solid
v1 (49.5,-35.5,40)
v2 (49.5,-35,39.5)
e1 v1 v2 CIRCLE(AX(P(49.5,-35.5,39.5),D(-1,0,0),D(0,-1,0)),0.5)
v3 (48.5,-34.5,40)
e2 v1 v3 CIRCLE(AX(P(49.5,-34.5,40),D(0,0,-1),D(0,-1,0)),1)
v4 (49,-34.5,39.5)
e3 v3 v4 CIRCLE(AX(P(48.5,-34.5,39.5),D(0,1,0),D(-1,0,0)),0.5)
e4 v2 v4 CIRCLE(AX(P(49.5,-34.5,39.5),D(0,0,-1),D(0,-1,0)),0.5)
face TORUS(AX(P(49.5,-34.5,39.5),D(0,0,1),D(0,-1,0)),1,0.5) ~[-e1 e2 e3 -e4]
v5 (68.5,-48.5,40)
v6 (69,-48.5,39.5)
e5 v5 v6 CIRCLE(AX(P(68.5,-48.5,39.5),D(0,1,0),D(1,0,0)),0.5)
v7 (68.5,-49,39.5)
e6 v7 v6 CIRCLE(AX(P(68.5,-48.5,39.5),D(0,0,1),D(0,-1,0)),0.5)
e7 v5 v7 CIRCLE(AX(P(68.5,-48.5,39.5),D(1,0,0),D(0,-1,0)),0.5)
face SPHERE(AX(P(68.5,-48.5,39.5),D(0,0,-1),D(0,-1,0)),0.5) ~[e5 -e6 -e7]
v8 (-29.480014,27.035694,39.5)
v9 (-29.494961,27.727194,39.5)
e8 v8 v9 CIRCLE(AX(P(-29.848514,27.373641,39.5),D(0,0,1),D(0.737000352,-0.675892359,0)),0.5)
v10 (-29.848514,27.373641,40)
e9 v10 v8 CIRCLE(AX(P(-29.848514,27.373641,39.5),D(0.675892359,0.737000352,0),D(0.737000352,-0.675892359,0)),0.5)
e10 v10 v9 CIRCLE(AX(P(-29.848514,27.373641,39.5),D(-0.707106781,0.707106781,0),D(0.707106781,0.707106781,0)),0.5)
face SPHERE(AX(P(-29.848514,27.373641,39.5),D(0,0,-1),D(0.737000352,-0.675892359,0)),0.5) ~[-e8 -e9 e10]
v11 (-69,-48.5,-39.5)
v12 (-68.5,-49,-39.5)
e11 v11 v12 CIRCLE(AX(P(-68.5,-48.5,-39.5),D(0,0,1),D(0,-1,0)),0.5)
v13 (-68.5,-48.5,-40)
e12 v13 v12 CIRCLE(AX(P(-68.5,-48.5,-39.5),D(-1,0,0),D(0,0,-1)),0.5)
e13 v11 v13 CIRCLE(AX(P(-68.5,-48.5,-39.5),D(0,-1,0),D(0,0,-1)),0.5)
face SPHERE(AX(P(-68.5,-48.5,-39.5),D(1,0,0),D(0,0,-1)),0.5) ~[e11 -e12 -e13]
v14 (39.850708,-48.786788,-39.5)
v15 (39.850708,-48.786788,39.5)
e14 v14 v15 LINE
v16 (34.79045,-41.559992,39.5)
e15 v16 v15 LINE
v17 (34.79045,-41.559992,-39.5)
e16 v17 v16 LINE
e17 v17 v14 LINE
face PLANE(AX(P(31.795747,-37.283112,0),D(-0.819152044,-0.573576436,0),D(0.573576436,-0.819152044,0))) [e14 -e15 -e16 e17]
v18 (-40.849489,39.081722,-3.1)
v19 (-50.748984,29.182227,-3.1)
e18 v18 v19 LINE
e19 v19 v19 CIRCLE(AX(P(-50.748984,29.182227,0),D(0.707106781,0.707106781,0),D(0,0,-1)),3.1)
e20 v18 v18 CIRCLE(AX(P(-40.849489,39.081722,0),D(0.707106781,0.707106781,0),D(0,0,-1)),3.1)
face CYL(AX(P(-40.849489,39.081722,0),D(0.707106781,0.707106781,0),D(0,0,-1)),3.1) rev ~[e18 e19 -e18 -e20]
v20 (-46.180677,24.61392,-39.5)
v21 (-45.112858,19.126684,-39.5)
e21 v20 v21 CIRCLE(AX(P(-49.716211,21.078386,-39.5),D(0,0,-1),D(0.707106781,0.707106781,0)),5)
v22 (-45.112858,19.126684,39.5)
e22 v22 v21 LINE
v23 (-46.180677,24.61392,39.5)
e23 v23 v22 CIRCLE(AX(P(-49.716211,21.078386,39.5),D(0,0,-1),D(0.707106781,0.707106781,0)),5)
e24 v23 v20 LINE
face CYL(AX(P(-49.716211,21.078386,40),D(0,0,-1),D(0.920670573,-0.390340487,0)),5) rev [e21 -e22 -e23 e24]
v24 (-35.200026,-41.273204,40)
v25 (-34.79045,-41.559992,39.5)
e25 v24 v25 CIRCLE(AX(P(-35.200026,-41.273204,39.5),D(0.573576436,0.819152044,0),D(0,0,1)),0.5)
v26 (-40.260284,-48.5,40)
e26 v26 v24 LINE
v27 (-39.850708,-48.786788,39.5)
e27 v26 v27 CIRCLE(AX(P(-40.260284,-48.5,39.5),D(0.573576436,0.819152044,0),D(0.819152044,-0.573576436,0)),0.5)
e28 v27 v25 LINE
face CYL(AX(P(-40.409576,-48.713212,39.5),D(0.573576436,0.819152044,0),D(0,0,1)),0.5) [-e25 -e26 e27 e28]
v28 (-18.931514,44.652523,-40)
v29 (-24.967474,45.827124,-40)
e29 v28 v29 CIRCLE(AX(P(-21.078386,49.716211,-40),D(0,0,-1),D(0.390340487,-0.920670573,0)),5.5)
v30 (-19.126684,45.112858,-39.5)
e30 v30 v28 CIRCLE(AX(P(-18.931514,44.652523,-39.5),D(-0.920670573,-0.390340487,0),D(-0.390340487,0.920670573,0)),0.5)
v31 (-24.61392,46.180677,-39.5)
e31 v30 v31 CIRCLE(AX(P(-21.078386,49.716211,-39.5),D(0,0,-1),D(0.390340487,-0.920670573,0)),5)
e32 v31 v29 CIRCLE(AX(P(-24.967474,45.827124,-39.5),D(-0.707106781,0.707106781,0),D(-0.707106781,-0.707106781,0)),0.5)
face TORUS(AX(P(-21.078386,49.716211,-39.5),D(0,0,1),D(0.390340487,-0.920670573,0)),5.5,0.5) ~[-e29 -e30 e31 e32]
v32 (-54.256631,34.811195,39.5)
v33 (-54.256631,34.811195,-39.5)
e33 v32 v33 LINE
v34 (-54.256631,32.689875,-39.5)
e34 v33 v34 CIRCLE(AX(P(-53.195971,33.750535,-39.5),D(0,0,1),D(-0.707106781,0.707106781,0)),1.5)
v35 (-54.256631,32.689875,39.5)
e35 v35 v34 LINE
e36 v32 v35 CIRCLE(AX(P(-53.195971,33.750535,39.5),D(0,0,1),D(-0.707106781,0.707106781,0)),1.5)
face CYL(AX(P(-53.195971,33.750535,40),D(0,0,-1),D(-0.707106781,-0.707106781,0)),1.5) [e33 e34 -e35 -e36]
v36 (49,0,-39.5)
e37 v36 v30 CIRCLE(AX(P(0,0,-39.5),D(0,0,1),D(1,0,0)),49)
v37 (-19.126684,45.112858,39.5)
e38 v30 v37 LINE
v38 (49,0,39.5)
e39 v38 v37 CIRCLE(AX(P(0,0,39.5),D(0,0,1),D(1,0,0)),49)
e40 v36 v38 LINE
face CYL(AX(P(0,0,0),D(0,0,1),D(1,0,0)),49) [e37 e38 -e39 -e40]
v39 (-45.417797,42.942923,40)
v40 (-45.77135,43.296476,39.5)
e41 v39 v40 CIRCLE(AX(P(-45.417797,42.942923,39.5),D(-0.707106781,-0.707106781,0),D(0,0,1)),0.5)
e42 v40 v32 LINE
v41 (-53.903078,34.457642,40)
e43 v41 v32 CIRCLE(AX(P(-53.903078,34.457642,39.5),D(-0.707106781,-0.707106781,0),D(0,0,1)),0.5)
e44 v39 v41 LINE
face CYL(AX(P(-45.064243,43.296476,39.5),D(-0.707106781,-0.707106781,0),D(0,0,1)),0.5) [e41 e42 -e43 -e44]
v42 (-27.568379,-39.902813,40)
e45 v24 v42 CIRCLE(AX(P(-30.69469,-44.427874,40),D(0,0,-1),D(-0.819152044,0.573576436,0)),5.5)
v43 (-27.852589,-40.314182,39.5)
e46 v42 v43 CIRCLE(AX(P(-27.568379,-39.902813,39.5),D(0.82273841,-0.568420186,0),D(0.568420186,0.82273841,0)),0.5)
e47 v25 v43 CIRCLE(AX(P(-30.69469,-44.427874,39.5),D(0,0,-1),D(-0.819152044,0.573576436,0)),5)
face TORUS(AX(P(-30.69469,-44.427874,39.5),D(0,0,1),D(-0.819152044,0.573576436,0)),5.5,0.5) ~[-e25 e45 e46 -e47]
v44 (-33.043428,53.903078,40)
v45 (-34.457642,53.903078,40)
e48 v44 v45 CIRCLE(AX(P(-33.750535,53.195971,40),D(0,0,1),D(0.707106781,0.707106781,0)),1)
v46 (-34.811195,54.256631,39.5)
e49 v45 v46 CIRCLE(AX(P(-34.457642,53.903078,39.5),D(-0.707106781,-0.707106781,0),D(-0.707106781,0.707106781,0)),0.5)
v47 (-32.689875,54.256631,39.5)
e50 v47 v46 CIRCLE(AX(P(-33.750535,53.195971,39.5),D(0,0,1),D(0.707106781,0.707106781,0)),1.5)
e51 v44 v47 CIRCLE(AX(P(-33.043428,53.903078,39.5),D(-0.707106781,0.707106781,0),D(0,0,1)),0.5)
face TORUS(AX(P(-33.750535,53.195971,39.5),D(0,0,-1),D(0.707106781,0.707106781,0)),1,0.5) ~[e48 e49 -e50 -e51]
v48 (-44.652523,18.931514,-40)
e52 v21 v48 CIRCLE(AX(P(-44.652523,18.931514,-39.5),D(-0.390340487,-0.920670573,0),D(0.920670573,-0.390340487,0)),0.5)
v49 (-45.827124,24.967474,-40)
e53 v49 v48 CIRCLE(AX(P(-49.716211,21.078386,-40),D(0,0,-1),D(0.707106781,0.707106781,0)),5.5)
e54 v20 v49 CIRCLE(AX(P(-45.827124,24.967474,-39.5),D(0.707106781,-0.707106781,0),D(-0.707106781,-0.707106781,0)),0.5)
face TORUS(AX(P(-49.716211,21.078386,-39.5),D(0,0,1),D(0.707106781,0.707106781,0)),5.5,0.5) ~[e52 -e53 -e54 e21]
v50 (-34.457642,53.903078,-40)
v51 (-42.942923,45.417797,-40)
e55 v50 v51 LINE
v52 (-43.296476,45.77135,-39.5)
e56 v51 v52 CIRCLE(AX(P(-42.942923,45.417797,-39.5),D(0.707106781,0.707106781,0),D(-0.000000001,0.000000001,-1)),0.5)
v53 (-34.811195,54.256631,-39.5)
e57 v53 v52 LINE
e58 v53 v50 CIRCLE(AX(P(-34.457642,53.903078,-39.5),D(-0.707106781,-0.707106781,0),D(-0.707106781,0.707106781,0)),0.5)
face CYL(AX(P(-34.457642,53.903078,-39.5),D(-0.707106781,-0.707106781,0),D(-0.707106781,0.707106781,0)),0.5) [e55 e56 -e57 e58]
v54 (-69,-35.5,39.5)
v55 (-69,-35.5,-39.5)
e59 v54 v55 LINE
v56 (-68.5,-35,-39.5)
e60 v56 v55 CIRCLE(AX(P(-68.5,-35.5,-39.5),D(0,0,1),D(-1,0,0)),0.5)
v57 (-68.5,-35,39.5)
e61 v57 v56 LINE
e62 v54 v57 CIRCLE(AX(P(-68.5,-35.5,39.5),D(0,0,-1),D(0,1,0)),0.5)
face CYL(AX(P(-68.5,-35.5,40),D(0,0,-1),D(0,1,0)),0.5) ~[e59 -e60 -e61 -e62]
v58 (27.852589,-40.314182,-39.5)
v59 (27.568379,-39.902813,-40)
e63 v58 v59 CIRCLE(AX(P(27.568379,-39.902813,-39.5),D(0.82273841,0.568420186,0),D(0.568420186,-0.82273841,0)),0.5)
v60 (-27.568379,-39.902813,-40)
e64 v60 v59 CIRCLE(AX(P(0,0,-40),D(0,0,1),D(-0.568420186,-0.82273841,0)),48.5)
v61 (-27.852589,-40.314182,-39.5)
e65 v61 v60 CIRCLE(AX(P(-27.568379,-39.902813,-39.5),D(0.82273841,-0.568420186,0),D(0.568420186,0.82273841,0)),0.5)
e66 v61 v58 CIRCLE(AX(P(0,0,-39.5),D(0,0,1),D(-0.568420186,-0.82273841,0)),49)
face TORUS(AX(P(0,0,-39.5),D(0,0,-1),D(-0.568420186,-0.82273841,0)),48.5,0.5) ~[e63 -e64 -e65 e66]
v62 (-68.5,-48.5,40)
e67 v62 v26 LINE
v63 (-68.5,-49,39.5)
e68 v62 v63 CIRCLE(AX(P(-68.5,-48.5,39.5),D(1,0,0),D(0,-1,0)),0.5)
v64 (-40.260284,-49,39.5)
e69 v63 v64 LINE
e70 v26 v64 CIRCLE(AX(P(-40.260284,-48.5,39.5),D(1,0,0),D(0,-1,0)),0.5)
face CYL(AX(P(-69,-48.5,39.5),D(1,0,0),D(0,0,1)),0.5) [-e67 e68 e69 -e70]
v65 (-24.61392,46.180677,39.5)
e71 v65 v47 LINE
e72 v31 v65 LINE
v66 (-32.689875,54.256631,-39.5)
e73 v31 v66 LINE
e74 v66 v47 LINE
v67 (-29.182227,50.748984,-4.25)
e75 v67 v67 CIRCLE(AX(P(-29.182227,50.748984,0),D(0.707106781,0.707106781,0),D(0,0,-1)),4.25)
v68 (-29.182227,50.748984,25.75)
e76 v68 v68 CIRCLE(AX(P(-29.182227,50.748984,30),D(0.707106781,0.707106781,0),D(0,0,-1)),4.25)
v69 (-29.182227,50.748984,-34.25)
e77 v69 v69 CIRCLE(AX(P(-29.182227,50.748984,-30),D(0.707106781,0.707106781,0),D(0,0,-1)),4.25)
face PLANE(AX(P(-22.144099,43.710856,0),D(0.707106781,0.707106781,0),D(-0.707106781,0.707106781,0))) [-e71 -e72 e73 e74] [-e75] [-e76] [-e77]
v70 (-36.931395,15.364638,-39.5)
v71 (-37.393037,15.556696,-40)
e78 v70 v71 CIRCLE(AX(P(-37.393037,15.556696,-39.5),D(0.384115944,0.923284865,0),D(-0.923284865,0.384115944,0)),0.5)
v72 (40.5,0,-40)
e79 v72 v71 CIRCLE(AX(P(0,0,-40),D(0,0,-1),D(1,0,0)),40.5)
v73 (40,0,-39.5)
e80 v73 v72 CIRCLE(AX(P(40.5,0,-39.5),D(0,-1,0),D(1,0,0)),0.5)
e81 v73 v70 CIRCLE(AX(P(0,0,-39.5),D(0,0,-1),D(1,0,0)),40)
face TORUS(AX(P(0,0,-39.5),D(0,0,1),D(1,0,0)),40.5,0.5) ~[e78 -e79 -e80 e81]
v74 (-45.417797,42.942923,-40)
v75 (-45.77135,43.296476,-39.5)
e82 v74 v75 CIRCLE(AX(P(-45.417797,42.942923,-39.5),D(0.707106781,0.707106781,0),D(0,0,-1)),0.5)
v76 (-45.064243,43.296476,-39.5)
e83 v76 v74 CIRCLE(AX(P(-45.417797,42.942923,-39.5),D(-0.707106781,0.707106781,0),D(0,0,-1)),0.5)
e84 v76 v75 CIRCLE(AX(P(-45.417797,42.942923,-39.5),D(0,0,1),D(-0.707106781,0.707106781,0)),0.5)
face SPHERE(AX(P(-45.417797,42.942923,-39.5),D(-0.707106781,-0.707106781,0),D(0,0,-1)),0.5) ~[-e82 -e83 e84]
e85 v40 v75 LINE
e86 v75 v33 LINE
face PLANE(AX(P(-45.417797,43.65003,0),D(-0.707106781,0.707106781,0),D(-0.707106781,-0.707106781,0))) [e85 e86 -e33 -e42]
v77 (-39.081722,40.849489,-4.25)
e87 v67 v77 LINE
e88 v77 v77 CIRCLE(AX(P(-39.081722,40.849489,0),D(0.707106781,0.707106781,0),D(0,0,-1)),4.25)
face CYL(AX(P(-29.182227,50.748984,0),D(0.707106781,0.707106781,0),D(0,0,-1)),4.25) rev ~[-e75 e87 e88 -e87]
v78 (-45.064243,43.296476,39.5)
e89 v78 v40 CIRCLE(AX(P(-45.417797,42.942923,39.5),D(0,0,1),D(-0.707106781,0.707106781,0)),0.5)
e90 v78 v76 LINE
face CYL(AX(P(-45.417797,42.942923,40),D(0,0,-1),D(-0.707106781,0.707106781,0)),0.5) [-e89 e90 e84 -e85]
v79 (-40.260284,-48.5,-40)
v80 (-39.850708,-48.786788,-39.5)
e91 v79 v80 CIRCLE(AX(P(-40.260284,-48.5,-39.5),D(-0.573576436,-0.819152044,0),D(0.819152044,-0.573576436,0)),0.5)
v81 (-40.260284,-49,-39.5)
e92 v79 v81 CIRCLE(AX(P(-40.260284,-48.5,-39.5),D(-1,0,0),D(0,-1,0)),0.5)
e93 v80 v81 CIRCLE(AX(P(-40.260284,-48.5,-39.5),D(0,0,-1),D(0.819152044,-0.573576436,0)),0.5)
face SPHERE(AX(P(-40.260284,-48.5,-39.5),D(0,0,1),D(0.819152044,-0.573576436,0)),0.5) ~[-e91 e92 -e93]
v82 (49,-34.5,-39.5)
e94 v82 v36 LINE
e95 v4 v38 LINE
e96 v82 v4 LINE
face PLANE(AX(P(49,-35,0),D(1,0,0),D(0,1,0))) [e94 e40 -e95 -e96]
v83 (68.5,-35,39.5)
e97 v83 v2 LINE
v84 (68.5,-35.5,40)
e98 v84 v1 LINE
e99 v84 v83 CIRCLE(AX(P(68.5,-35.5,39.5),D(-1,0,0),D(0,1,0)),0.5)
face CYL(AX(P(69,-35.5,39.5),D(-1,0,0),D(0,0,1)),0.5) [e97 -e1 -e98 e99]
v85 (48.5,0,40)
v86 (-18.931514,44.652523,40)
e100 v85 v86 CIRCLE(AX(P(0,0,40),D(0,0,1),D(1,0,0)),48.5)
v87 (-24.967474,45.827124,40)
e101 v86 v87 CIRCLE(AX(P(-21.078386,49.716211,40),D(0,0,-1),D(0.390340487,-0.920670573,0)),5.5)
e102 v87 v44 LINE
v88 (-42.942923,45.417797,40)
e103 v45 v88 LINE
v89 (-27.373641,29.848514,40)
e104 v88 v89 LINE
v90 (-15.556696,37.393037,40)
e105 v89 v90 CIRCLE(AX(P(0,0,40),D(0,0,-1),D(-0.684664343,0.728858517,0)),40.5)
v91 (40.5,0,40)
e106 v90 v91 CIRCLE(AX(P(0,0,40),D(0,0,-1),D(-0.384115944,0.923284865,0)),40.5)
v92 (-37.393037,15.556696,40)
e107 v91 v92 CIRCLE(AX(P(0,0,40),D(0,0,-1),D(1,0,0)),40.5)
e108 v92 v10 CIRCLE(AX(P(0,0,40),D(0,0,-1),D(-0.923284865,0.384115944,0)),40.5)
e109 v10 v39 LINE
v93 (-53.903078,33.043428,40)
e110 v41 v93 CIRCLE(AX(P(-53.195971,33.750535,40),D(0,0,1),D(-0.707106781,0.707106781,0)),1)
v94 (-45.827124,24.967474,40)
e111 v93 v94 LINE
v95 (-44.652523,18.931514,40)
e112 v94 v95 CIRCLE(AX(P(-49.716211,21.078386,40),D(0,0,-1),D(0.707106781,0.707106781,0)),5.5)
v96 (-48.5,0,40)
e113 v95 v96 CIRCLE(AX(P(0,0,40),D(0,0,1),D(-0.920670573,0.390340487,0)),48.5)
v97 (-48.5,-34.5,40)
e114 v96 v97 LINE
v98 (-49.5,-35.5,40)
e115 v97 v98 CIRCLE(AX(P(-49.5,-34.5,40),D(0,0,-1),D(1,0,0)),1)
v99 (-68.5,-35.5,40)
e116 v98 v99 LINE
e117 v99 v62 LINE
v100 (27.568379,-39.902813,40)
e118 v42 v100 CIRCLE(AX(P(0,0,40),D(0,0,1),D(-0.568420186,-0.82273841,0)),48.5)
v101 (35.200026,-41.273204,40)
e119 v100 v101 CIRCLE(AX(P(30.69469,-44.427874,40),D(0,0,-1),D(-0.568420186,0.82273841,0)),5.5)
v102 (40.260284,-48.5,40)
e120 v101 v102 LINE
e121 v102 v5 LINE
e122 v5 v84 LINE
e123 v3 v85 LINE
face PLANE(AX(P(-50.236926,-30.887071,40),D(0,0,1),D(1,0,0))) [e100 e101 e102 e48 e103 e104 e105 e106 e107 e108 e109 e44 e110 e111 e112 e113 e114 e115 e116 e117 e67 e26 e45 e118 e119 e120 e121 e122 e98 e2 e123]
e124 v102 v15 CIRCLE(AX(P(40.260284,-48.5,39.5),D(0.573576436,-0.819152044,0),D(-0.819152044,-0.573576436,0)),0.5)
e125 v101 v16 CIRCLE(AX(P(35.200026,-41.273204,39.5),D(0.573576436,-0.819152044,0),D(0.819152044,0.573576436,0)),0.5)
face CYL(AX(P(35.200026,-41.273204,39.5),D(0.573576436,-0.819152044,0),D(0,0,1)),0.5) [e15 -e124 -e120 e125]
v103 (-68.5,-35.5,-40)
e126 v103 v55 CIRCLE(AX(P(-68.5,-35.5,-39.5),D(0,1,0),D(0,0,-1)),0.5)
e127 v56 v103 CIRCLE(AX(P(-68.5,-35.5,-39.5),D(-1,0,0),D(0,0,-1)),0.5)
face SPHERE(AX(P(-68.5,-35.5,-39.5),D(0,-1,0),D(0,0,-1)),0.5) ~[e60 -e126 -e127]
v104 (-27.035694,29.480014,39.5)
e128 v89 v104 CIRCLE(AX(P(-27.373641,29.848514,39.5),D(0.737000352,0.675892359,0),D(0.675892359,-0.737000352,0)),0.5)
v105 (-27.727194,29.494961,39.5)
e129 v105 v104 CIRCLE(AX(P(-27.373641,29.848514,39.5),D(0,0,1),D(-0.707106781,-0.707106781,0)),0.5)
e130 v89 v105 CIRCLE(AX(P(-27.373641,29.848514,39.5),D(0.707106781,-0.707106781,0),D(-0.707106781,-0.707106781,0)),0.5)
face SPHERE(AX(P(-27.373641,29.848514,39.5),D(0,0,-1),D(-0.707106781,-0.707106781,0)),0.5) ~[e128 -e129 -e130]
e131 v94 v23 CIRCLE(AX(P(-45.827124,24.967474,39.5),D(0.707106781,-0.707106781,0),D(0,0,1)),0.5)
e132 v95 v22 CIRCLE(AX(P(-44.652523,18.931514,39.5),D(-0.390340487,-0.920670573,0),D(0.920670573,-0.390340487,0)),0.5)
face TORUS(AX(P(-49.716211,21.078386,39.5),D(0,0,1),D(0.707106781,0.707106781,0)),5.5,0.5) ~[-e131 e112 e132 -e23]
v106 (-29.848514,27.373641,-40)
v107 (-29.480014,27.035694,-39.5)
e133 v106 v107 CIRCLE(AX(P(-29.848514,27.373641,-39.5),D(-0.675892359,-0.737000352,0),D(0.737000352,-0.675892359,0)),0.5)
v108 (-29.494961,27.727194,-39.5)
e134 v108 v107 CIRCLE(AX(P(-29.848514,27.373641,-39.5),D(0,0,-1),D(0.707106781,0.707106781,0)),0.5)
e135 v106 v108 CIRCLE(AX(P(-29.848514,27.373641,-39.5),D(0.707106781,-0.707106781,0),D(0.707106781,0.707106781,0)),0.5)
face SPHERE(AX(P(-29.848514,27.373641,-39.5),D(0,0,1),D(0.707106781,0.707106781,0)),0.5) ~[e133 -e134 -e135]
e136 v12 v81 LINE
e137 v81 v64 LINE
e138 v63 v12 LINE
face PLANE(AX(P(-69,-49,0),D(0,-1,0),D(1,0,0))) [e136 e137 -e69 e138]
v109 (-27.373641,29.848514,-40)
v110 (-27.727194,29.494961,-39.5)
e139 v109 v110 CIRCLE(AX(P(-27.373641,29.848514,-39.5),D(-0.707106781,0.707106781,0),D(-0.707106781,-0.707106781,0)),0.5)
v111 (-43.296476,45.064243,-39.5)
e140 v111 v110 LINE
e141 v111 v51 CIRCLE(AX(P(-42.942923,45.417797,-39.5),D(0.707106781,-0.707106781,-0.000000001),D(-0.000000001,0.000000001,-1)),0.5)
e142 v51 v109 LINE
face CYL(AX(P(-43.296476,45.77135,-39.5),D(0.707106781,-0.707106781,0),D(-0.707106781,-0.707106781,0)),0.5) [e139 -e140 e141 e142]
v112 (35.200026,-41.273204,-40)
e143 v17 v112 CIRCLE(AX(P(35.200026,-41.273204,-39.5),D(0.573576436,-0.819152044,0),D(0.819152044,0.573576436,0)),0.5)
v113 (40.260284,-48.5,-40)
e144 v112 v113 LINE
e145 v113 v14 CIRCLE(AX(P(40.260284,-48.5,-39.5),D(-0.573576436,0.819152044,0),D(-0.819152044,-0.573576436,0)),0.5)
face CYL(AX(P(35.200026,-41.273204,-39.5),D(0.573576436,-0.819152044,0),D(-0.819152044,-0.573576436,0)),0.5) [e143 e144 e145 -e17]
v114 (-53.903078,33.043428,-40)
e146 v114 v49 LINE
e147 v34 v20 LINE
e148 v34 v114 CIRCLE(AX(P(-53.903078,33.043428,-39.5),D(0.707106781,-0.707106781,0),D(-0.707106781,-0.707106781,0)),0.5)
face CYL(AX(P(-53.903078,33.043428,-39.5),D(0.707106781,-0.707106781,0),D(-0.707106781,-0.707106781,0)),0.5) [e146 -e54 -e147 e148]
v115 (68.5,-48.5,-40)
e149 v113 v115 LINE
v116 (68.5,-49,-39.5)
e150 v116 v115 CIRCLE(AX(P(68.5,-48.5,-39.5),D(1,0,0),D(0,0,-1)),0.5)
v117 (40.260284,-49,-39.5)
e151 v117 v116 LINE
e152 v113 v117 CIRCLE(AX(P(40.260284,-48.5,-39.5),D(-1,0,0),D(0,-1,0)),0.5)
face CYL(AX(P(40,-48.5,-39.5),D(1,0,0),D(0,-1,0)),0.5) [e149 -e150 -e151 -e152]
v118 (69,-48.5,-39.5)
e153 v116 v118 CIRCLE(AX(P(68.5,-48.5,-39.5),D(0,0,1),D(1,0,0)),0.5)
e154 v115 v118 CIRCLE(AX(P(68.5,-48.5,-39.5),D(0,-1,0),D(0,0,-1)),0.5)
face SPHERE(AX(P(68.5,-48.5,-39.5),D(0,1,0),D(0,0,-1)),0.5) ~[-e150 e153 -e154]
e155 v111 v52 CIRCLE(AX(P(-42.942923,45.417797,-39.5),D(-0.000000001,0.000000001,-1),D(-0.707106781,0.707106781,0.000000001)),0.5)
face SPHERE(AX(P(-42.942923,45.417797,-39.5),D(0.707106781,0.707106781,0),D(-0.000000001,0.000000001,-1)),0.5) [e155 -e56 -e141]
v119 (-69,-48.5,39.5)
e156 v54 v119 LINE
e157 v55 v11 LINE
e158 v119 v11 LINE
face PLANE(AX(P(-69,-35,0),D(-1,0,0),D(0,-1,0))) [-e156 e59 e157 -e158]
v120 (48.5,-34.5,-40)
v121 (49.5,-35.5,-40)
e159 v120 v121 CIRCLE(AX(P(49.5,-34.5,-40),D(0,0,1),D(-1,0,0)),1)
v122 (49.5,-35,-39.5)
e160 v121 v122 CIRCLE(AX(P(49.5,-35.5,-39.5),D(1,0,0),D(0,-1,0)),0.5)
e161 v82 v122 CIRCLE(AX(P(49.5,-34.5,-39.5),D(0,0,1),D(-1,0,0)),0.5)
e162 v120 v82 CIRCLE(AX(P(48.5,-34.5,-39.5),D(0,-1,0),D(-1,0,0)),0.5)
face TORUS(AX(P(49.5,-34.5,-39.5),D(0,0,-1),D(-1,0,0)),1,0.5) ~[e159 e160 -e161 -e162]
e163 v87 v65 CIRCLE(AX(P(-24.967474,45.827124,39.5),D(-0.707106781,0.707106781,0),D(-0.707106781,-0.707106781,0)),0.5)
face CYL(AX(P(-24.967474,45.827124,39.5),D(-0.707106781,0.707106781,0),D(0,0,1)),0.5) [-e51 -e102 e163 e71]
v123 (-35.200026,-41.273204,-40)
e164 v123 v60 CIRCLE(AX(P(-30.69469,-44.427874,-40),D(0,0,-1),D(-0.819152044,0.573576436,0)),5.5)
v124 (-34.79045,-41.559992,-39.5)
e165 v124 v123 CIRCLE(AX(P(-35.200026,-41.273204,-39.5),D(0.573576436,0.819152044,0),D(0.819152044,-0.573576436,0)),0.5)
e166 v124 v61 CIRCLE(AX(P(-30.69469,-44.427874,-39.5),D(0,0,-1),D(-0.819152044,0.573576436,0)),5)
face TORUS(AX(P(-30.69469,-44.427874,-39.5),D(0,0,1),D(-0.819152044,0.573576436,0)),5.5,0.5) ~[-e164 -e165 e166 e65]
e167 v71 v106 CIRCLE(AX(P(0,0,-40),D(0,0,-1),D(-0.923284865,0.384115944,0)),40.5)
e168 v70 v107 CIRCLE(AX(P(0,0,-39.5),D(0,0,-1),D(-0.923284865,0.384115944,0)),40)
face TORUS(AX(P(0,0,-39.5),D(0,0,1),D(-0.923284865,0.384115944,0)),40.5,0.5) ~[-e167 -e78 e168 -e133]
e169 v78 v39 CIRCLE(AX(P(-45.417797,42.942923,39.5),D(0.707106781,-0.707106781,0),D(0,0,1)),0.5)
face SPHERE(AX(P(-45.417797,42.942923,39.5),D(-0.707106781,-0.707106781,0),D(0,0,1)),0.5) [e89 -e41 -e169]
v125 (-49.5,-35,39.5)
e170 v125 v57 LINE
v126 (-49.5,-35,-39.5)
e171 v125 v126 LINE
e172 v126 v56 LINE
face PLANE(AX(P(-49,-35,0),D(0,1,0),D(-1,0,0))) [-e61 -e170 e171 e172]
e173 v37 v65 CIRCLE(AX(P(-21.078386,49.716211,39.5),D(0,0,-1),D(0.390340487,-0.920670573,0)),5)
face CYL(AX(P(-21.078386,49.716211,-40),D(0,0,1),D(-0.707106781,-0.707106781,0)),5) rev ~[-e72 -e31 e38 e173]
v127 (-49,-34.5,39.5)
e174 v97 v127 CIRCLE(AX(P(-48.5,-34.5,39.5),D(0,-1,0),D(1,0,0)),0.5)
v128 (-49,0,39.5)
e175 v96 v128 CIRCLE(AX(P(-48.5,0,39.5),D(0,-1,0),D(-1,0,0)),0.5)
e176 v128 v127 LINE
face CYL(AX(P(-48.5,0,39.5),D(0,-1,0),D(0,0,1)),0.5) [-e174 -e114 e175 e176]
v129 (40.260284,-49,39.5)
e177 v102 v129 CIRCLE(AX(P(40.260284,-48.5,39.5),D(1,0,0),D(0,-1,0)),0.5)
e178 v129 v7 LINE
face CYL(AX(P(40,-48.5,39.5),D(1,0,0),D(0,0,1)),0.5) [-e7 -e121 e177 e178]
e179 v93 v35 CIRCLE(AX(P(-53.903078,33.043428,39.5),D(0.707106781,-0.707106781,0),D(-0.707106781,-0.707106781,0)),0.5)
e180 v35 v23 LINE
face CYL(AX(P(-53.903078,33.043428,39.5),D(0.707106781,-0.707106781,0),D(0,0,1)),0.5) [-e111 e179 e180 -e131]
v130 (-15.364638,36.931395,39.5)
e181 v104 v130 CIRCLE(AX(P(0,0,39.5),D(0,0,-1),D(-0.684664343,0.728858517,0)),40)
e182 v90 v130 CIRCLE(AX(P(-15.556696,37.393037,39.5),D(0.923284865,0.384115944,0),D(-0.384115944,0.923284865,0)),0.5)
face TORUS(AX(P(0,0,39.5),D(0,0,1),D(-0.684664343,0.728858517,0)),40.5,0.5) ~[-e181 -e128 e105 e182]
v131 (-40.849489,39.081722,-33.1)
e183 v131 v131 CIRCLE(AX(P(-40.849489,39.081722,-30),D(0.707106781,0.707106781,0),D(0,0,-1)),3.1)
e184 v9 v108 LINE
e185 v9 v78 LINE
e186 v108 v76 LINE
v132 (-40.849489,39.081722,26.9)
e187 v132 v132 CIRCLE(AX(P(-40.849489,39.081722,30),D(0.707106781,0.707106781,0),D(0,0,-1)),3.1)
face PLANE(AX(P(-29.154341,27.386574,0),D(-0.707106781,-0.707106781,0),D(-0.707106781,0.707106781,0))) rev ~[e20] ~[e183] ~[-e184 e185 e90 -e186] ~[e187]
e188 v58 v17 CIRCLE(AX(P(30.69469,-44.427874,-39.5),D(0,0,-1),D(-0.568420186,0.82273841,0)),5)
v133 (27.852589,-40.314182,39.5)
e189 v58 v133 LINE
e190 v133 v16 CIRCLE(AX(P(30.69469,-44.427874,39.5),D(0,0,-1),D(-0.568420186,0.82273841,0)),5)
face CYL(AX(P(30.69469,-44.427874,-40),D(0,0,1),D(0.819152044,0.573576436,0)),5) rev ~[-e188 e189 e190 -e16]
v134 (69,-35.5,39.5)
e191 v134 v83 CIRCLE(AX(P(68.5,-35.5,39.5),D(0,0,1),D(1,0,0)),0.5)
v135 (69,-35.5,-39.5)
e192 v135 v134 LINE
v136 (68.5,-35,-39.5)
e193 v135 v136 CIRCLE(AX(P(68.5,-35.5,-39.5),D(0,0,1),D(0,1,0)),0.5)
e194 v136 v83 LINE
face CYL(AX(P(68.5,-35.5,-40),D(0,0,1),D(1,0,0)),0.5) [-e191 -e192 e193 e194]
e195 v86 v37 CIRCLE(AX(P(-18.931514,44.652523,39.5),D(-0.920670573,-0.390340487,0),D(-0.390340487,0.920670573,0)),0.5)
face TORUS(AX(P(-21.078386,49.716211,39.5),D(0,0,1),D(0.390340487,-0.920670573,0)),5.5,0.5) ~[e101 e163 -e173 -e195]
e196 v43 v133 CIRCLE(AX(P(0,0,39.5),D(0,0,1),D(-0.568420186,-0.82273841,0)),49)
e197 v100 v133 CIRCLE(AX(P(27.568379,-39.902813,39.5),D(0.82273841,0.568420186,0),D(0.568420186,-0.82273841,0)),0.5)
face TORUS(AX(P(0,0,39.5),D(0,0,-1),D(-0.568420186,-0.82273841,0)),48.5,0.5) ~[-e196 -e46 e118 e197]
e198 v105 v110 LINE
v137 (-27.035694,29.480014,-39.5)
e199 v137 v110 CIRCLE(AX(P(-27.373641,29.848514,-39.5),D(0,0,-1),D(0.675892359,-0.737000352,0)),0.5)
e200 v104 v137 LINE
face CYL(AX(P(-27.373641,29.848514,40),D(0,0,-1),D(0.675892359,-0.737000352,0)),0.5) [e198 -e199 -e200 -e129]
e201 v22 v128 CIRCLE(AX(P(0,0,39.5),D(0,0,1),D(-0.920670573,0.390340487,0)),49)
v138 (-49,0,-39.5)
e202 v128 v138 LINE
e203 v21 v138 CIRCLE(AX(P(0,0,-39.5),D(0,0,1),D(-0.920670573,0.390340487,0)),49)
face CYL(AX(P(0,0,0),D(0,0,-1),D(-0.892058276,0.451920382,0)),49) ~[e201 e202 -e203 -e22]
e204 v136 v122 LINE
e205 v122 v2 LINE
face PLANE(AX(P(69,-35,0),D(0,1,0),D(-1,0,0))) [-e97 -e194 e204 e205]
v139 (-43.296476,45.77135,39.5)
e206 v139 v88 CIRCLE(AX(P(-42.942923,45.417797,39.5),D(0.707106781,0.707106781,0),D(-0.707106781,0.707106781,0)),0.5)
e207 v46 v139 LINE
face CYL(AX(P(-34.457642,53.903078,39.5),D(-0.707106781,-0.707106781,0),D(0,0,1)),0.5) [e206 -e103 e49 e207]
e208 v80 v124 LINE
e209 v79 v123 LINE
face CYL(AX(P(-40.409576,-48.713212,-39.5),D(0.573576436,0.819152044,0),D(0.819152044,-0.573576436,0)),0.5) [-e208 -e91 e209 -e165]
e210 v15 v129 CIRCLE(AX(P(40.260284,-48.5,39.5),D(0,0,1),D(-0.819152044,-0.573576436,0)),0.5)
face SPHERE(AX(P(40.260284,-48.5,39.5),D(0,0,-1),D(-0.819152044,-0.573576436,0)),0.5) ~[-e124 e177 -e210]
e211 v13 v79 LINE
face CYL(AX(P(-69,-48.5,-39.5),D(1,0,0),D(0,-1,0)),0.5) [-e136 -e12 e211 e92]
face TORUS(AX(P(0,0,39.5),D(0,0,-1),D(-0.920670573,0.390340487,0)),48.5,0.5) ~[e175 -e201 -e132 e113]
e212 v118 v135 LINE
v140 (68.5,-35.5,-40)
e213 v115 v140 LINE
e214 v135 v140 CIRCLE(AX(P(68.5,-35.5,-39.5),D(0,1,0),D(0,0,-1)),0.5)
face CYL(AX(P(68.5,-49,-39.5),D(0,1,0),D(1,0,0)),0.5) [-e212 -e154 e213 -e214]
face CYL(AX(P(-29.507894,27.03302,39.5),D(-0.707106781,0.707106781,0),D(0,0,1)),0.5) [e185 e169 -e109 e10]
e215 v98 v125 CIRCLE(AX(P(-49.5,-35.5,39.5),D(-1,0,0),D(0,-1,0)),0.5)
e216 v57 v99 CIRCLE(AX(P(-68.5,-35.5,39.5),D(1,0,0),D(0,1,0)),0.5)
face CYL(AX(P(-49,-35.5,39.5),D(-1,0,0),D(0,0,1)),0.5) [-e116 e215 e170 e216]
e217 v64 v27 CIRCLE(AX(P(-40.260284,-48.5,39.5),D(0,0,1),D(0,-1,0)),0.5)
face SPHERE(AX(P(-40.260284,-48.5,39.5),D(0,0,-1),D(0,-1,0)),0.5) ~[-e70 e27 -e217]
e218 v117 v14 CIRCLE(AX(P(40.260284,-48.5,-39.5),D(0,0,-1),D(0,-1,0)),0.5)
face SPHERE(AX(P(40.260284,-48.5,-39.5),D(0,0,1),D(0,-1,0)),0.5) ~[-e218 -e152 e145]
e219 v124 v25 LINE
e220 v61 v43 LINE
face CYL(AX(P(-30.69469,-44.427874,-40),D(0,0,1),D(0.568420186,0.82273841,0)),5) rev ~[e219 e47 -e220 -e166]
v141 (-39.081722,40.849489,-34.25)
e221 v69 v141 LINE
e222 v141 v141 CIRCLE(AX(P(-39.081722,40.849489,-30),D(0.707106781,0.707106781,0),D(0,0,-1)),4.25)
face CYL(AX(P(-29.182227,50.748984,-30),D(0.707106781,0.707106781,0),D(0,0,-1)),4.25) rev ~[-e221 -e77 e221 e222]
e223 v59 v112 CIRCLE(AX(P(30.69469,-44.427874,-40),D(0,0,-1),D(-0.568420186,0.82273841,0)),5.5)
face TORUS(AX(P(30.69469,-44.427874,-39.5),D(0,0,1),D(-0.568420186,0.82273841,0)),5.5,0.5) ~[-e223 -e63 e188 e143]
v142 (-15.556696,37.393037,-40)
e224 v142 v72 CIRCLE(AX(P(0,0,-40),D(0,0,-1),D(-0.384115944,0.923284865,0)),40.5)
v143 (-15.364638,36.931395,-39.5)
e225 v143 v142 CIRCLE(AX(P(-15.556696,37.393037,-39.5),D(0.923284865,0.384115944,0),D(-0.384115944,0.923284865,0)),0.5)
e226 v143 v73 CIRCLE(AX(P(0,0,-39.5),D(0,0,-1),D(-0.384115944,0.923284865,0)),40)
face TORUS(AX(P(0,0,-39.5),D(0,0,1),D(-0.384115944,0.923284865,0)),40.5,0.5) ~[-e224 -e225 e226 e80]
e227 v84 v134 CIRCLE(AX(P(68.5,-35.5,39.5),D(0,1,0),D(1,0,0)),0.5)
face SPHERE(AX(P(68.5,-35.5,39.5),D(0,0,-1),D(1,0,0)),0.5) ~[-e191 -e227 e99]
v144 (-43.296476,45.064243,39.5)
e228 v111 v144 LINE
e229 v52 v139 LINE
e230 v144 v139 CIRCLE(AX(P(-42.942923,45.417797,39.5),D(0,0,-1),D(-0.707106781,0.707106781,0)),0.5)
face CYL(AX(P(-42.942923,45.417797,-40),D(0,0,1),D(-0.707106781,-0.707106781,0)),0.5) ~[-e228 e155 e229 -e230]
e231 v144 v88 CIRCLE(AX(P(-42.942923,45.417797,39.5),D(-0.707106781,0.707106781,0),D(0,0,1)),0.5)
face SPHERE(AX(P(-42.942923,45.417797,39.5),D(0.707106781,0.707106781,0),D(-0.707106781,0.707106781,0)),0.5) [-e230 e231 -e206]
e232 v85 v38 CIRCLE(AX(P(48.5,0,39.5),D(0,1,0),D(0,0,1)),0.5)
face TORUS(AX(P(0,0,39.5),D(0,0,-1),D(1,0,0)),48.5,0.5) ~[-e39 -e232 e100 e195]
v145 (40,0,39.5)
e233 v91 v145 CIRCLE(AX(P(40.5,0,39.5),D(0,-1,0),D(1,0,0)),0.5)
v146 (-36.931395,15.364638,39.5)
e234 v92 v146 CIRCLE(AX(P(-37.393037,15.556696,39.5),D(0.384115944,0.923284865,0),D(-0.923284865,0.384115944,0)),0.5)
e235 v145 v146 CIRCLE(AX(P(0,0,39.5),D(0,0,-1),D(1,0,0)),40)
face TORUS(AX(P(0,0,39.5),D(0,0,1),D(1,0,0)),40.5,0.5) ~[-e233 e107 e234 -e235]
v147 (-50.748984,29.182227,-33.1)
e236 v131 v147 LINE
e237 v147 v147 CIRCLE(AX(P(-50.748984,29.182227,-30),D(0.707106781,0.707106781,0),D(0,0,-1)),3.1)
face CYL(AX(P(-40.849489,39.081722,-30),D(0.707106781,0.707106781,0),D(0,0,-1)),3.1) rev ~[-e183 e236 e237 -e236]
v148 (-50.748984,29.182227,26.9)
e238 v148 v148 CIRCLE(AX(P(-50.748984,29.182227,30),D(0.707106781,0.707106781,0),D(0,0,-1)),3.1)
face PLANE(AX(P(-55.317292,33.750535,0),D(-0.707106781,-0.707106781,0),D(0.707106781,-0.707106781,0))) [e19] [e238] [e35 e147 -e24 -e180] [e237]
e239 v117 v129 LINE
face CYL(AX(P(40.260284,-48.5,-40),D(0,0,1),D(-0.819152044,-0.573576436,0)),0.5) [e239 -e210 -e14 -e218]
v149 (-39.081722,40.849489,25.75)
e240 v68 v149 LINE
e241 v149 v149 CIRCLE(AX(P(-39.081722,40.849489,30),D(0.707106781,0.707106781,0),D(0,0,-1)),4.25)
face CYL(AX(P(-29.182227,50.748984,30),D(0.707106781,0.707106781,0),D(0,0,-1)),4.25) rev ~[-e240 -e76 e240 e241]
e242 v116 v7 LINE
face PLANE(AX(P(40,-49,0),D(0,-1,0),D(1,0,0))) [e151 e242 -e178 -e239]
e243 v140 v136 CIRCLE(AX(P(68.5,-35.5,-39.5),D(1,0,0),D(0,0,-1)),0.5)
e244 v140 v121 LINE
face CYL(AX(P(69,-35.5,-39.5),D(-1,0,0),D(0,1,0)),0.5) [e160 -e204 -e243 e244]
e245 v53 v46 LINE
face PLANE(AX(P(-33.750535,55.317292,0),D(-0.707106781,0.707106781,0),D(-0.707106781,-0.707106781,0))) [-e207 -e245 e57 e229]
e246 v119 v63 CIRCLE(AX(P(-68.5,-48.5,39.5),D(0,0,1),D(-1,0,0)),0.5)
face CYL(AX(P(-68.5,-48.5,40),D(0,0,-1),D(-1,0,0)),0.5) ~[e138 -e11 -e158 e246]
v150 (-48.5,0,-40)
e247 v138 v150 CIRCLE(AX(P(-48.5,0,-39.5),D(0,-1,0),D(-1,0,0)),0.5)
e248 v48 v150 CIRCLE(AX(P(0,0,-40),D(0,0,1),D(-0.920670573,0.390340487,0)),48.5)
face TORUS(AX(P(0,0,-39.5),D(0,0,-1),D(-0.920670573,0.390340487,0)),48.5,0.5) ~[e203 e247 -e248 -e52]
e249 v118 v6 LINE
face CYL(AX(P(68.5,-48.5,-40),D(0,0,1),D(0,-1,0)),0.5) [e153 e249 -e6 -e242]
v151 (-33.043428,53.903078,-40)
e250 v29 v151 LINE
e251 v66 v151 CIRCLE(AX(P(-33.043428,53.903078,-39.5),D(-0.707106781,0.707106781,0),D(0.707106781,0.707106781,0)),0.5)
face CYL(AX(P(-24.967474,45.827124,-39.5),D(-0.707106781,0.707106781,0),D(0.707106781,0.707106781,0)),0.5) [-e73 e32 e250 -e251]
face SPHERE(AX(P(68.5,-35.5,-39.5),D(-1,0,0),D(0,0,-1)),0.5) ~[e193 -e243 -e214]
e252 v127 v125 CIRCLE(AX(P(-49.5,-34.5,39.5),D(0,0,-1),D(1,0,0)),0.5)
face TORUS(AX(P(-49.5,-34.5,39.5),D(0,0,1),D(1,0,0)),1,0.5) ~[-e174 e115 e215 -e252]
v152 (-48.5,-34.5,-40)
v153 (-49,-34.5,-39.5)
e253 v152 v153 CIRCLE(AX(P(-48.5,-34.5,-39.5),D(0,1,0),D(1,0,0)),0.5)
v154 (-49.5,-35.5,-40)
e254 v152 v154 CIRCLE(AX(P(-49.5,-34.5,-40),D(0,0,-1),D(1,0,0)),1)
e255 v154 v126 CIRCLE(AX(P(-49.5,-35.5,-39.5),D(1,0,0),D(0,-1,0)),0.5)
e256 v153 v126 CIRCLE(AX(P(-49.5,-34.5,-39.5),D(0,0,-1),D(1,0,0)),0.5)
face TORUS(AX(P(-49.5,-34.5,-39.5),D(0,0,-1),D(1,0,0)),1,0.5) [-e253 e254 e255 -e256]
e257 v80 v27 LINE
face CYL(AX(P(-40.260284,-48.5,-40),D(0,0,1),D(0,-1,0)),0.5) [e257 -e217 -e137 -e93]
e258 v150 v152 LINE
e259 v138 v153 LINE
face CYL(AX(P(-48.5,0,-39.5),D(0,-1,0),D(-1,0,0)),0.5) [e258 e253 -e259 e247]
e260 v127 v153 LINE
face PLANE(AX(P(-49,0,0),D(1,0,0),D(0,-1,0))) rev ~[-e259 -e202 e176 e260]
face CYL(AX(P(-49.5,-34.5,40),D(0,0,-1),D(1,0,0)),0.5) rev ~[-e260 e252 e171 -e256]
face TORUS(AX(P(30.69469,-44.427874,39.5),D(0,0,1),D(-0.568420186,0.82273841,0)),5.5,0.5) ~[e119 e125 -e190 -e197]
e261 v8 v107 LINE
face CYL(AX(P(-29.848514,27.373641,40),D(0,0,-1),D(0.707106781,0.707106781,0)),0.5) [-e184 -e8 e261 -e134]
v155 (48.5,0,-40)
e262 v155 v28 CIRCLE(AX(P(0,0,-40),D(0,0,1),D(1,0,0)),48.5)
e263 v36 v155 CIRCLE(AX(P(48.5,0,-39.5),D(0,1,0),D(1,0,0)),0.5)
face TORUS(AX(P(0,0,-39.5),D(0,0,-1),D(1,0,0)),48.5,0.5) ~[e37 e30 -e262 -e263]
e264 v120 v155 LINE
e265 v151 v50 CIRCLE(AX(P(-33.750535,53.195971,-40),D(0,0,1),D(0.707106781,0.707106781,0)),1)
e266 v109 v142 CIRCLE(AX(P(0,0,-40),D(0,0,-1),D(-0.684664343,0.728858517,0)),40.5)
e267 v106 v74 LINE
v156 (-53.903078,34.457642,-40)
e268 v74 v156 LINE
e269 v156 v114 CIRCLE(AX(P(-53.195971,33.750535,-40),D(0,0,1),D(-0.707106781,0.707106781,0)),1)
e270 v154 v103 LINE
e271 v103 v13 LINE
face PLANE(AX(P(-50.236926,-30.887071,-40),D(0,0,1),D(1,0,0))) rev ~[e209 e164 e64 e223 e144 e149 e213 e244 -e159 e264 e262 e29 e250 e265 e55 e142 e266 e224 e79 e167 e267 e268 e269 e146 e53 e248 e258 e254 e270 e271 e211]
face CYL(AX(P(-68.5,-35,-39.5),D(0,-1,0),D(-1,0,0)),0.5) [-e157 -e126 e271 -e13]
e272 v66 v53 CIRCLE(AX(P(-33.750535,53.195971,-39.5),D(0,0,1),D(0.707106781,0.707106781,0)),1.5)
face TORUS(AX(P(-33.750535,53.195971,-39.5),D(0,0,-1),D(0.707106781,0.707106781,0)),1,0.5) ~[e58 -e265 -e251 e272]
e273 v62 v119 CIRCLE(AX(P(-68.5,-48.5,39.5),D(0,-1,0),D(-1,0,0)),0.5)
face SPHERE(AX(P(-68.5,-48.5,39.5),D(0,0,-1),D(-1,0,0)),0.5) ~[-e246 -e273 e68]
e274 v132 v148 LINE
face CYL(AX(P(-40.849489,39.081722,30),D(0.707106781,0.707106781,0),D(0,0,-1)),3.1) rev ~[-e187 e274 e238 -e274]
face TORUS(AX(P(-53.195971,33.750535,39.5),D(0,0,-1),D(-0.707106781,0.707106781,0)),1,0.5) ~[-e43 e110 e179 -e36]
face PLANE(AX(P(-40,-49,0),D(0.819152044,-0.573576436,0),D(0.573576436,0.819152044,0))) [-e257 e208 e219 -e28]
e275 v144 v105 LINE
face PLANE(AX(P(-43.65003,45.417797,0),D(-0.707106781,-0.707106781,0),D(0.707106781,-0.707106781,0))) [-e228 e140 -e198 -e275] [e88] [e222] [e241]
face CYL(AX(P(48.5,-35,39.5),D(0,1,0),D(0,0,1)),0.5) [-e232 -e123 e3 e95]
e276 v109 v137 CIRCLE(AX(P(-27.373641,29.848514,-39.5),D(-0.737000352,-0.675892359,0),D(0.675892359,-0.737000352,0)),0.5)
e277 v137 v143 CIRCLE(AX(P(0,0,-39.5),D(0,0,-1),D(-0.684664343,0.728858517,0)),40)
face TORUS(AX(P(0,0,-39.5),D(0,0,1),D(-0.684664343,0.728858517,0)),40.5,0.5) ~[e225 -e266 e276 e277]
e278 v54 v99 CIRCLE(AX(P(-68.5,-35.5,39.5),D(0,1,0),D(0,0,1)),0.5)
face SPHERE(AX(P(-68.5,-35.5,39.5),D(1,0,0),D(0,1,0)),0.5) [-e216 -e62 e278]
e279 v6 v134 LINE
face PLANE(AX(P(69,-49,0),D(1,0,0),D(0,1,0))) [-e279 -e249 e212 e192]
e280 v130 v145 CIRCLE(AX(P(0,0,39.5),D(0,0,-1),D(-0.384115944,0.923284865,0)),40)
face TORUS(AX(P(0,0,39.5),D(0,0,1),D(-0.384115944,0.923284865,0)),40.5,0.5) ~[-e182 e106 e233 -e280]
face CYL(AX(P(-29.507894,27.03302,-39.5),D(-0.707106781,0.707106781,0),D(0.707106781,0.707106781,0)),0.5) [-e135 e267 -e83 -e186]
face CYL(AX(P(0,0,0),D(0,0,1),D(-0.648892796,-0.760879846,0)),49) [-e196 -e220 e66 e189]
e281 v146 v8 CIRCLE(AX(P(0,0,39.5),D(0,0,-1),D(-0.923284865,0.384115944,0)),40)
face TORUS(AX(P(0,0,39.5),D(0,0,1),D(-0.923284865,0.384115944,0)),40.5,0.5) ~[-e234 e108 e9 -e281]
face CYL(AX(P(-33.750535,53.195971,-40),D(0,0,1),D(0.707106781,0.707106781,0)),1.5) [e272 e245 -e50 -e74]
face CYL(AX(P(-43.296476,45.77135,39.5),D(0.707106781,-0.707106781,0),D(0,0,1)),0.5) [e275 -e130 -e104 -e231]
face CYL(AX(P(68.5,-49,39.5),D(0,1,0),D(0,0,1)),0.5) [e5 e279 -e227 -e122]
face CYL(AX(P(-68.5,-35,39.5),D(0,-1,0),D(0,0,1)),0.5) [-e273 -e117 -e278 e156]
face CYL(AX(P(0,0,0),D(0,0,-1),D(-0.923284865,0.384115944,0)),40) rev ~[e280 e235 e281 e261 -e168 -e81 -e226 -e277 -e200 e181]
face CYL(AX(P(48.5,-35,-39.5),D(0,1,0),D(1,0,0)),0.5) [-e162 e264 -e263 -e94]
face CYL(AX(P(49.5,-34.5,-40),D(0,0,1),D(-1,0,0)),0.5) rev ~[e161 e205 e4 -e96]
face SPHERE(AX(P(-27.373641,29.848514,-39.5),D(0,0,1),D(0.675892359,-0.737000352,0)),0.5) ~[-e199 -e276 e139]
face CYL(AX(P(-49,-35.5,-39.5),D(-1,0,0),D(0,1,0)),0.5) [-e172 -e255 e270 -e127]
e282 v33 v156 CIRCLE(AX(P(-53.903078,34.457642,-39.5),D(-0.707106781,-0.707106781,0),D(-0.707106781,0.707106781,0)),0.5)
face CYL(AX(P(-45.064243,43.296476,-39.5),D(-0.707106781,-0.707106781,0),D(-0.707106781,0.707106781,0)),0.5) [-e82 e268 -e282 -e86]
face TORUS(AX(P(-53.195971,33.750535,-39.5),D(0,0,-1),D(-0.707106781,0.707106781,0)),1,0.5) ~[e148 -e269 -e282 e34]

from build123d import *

# Parameters (mm, degrees)
EXTRUDE_1_DEPTH     = 40
FILLET_1_R          = 5
SKETCH_2_R          = 4.25
CUT_EXTRUDE_1_DEPTH = 16.5
SKETCH_3_R          = 3.1
CUT_EXTRUDE_2_DEPTH = 80
FILLET_2_R          = 1.5
FILLET_3_R          = 0.5


with BuildPart() as part:
    # Эскиз1 → Бобышка-Вытянуть1 (new body, symmetric)
    with BuildSketch(Plane.XY):
        with BuildLine():
            Line((-69, -49), (-40, -49))
            Line((-40, -49), (-31.795747001, -37.283112433))
            ThreePointArc((-31.795747001, -37.283112433), (-44.491525053, -20.530567417), (-49, 0))
            Line((-49, 0), (-49, -35))
            Line((-49, -35), (-69, -35))
            Line((-69, -35), (-69, -49))
        make_face()
        with BuildLine():
            ThreePointArc((-31.795747001, -37.283112433), (-16.942955681, -45.977562493), (-1.13e-07, -49))
            ThreePointArc((-1.13e-07, -49), (16.942955575, -45.977562532), (31.795747001, -37.283112433))
            ThreePointArc((31.795747001, -37.283112433), (44.491525053, -20.530567417), (49, 0))
            ThreePointArc((49, 0), (25.650917751, 41.749615789), (-22.144098715, 43.710855541))
            Line((-22.144098715, 43.710855541), (-15.364637764, 36.93139459))
            ThreePointArc((-15.364637764, 36.93139459), (22.197009815, 33.276008704), (40, 0))
            ThreePointArc((40, 0), (-7.834035243, -39.225347568), (-36.93139459, 15.364637764))
            Line((-36.93139459, 15.364637764), (-43.710855541, 22.144098715))
            ThreePointArc((-43.710855541, 22.144098715), (-47.659374322, 11.38349855), (-49, 0))
            ThreePointArc((-49, 0), (-44.491525053, -20.530567417), (-31.795747001, -37.283112433))
        make_face()
        with BuildLine():
            Line((40, -49), (69, -49))
            Line((69, -49), (69, -35))
            Line((69, -35), (49, -35))
            Line((49, -35), (49, 0))
            ThreePointArc((49, 0), (44.491525053, -20.530567417), (31.795747001, -37.283112433))
            Line((31.795747001, -37.283112433), (40, -49))
        make_face()
        with BuildLine():
            Line((-55.317291575, 33.750534749), (-43.710855541, 22.144098715))
            ThreePointArc((-43.710855541, 22.144098715), (-40.038824422, 28.246991679), (-35.520839896, 33.753072943))
            Line((-35.520839896, 33.753072943), (-45.417796639, 43.650029686))
            Line((-45.417796639, 43.650029686), (-55.317291575, 33.750534749))
        make_face()
        with BuildLine():
            ThreePointArc((-33.753072943, 35.520839896), (-28.246991679, 40.038824422), (-22.144098715, 43.710855541))
            Line((-22.144098715, 43.710855541), (-33.750534749, 55.317291575))
            Line((-33.750534749, 55.317291575), (-43.650029686, 45.417796639))
            Line((-43.650029686, 45.417796639), (-33.753072943, 35.520839896))
        make_face()
        with BuildLine():
            ThreePointArc((-35.520839896, 33.753072943), (-40.038824422, 28.246991679), (-43.710855541, 22.144098715))
            Line((-43.710855541, 22.144098715), (-36.93139459, 15.364637764))
            ThreePointArc((-36.93139459, 15.364637764), (-33.585157991, 21.726416242), (-29.154340671, 27.386573718))
            Line((-29.154340671, 27.386573718), (-35.520839896, 33.753072943))
        make_face()
        with BuildLine():
            Line((-15.364637764, 36.93139459), (-22.144098715, 43.710855541))
            ThreePointArc((-22.144098715, 43.710855541), (-28.246991679, 40.038824422), (-33.753072943, 35.520839896))
            Line((-33.753072943, 35.520839896), (-27.386573718, 29.154340671))
            ThreePointArc((-27.386573718, 29.154340671), (-21.726416242, 33.585157991), (-15.364637764, 36.93139459))
        make_face()
    extrude(amount=EXTRUDE_1_DEPTH, both=True)

    # Скругление1
    fillet_1_edges = [part.edges().sort_by_distance(p)[0] for p in [
        (-22.144098715, 43.710855541, 0),
        (31.795747001, -37.283112433, 0),
        (-31.795747001, -37.283112433, 0),
        (-43.710855541, 22.144098715, 0),
    ]]
    fillet(fillet_1_edges, radius=FILLET_1_R)

    # Эскиз2 → Вырез-Вытянуть1 (cut)
    with BuildSketch(Plane(origin=(10.783378413, 10.783378413, 0), x_dir=(0, 0, -1), z_dir=(0.707106781, 0.707106781, 0))):
        with Locations((-30, 56.519901884)):
            Circle(SKETCH_2_R)
        with Locations((0, 56.519901884)):
            Circle(SKETCH_2_R)
        with Locations((30, 56.519901884)):
            Circle(SKETCH_2_R)
    extrude(amount=-CUT_EXTRUDE_1_DEPTH, mode=Mode.SUBTRACT)

    # Эскиз3 → Вырез-Вытянуть2 (cut)
    with BuildSketch(Plane(origin=(-0.883883476, -0.883883476, 0), x_dir=(0, 0, -1), z_dir=(0.707106781, 0.707106781, 0))):
        with Locations((-30, 56.519901884)):
            Circle(SKETCH_3_R)
        with Locations((0, 56.519901884)):
            Circle(SKETCH_3_R)
        with Locations((30, 56.519901884)):
            Circle(SKETCH_3_R)
    extrude(amount=-CUT_EXTRUDE_2_DEPTH, mode=Mode.SUBTRACT)

    # Скругление2
    fillet_2_edges = [part.edges().sort_by_distance(p)[0] for p in [
        (-33.750534749, 55.317291575, 0),
        (-55.317291575, 33.750534749, 0),
    ]]
    fillet(fillet_2_edges, radius=FILLET_2_R)

    # Скругление3
    fillet_3_edges = [part.edges().sort_by_distance(p)[0] for p in [
        (-50.218654221, 28.651897395, -40),
        (-50.218654221, 28.651897395, 40),
        (-28.651897395, 50.218654221, -40),
        (-33.750534749, 54.695971232, -40),
        (-54.695971232, 33.750534749, -40),
        (-28.651897395, 50.218654221, 40),
        (-33.750534749, 54.695971232, 40),
        (-54.695971232, 33.750534749, 40),
        (-37.286068655, 35.518301702, 40),
        (-39.230612303, 49.837214021, -40),
        (-49.837214021, 39.230612303, 40),
        (27.053581004, 40.854666255, -40),
        (49, -17.5, -40),
        (59, -35, -40),
        (69, -42, -40),
        (54.5, -49, -40),
        (37.395225146, -45.279995984, -40),
        (-37.395225146, -45.279995984, -40),
        (-54.5, -49, -40),
        (-69, -42, -40),
        (-59, -35, -40),
        (-49, -17.5, -40),
        (-49.837214021, 39.230612303, -40),
        (-37.286068655, 35.518301702, -40),
        (28.284271247, -28.284271247, -40),
        (-35.518301702, 37.286068655, -40),
        (-49, -17.5, 40),
        (-59, -35, 40),
        (-43.650029686, 45.417796639, 0),
        (49, -35, 0),
        (69, -35, 0),
        (69, -49, 0),
        (40, -49, 0),
        (-40, -49, 0),
        (-69, -49, 0),
        (-69, -35, 0),
        (-49, -35, 0),
        (-45.417796639, 43.650029686, 0),
        (-29.154340671, 27.386573718, 0),
        (-27.386573718, 29.154340671, 0),
        (-35.518301702, 37.286068655, 40),
        (-69, -42, 40),
        (-54.5, -49, 40),
        (-37.395225146, -45.279995984, 40),
        (37.395225146, -45.279995984, 40),
        (54.5, -49, 40),
        (0, -49, -40),
        (0, -49, 40),
        (69, -42, 40),
        (-48.018382136, 9.758840969, -40),
        (-48.018382136, 9.758840969, 40),
        (59, -35, 40),
        (31.578390224, -39.506586306, -40),
        (31.578390224, -39.506586306, 40),
        (49, -17.5, 40),
        (-31.578390224, -39.506586306, -40),
        (-31.578390224, -39.506586306, 40),
        (-44.808277557, 22.033472619, -40),
        (-44.808277557, 22.033472619, 40),
        (27.053581004, 40.854666255, 40),
        (-22.033472619, 44.808277557, -40),
        (-22.033472619, 44.808277557, 40),
        (-39.230612303, 49.837214021, 40),
        (28.284271247, -28.284271247, 40),
    ]]
    fillet(fillet_3_edges, radius=FILLET_3_R)


solid = part.part
